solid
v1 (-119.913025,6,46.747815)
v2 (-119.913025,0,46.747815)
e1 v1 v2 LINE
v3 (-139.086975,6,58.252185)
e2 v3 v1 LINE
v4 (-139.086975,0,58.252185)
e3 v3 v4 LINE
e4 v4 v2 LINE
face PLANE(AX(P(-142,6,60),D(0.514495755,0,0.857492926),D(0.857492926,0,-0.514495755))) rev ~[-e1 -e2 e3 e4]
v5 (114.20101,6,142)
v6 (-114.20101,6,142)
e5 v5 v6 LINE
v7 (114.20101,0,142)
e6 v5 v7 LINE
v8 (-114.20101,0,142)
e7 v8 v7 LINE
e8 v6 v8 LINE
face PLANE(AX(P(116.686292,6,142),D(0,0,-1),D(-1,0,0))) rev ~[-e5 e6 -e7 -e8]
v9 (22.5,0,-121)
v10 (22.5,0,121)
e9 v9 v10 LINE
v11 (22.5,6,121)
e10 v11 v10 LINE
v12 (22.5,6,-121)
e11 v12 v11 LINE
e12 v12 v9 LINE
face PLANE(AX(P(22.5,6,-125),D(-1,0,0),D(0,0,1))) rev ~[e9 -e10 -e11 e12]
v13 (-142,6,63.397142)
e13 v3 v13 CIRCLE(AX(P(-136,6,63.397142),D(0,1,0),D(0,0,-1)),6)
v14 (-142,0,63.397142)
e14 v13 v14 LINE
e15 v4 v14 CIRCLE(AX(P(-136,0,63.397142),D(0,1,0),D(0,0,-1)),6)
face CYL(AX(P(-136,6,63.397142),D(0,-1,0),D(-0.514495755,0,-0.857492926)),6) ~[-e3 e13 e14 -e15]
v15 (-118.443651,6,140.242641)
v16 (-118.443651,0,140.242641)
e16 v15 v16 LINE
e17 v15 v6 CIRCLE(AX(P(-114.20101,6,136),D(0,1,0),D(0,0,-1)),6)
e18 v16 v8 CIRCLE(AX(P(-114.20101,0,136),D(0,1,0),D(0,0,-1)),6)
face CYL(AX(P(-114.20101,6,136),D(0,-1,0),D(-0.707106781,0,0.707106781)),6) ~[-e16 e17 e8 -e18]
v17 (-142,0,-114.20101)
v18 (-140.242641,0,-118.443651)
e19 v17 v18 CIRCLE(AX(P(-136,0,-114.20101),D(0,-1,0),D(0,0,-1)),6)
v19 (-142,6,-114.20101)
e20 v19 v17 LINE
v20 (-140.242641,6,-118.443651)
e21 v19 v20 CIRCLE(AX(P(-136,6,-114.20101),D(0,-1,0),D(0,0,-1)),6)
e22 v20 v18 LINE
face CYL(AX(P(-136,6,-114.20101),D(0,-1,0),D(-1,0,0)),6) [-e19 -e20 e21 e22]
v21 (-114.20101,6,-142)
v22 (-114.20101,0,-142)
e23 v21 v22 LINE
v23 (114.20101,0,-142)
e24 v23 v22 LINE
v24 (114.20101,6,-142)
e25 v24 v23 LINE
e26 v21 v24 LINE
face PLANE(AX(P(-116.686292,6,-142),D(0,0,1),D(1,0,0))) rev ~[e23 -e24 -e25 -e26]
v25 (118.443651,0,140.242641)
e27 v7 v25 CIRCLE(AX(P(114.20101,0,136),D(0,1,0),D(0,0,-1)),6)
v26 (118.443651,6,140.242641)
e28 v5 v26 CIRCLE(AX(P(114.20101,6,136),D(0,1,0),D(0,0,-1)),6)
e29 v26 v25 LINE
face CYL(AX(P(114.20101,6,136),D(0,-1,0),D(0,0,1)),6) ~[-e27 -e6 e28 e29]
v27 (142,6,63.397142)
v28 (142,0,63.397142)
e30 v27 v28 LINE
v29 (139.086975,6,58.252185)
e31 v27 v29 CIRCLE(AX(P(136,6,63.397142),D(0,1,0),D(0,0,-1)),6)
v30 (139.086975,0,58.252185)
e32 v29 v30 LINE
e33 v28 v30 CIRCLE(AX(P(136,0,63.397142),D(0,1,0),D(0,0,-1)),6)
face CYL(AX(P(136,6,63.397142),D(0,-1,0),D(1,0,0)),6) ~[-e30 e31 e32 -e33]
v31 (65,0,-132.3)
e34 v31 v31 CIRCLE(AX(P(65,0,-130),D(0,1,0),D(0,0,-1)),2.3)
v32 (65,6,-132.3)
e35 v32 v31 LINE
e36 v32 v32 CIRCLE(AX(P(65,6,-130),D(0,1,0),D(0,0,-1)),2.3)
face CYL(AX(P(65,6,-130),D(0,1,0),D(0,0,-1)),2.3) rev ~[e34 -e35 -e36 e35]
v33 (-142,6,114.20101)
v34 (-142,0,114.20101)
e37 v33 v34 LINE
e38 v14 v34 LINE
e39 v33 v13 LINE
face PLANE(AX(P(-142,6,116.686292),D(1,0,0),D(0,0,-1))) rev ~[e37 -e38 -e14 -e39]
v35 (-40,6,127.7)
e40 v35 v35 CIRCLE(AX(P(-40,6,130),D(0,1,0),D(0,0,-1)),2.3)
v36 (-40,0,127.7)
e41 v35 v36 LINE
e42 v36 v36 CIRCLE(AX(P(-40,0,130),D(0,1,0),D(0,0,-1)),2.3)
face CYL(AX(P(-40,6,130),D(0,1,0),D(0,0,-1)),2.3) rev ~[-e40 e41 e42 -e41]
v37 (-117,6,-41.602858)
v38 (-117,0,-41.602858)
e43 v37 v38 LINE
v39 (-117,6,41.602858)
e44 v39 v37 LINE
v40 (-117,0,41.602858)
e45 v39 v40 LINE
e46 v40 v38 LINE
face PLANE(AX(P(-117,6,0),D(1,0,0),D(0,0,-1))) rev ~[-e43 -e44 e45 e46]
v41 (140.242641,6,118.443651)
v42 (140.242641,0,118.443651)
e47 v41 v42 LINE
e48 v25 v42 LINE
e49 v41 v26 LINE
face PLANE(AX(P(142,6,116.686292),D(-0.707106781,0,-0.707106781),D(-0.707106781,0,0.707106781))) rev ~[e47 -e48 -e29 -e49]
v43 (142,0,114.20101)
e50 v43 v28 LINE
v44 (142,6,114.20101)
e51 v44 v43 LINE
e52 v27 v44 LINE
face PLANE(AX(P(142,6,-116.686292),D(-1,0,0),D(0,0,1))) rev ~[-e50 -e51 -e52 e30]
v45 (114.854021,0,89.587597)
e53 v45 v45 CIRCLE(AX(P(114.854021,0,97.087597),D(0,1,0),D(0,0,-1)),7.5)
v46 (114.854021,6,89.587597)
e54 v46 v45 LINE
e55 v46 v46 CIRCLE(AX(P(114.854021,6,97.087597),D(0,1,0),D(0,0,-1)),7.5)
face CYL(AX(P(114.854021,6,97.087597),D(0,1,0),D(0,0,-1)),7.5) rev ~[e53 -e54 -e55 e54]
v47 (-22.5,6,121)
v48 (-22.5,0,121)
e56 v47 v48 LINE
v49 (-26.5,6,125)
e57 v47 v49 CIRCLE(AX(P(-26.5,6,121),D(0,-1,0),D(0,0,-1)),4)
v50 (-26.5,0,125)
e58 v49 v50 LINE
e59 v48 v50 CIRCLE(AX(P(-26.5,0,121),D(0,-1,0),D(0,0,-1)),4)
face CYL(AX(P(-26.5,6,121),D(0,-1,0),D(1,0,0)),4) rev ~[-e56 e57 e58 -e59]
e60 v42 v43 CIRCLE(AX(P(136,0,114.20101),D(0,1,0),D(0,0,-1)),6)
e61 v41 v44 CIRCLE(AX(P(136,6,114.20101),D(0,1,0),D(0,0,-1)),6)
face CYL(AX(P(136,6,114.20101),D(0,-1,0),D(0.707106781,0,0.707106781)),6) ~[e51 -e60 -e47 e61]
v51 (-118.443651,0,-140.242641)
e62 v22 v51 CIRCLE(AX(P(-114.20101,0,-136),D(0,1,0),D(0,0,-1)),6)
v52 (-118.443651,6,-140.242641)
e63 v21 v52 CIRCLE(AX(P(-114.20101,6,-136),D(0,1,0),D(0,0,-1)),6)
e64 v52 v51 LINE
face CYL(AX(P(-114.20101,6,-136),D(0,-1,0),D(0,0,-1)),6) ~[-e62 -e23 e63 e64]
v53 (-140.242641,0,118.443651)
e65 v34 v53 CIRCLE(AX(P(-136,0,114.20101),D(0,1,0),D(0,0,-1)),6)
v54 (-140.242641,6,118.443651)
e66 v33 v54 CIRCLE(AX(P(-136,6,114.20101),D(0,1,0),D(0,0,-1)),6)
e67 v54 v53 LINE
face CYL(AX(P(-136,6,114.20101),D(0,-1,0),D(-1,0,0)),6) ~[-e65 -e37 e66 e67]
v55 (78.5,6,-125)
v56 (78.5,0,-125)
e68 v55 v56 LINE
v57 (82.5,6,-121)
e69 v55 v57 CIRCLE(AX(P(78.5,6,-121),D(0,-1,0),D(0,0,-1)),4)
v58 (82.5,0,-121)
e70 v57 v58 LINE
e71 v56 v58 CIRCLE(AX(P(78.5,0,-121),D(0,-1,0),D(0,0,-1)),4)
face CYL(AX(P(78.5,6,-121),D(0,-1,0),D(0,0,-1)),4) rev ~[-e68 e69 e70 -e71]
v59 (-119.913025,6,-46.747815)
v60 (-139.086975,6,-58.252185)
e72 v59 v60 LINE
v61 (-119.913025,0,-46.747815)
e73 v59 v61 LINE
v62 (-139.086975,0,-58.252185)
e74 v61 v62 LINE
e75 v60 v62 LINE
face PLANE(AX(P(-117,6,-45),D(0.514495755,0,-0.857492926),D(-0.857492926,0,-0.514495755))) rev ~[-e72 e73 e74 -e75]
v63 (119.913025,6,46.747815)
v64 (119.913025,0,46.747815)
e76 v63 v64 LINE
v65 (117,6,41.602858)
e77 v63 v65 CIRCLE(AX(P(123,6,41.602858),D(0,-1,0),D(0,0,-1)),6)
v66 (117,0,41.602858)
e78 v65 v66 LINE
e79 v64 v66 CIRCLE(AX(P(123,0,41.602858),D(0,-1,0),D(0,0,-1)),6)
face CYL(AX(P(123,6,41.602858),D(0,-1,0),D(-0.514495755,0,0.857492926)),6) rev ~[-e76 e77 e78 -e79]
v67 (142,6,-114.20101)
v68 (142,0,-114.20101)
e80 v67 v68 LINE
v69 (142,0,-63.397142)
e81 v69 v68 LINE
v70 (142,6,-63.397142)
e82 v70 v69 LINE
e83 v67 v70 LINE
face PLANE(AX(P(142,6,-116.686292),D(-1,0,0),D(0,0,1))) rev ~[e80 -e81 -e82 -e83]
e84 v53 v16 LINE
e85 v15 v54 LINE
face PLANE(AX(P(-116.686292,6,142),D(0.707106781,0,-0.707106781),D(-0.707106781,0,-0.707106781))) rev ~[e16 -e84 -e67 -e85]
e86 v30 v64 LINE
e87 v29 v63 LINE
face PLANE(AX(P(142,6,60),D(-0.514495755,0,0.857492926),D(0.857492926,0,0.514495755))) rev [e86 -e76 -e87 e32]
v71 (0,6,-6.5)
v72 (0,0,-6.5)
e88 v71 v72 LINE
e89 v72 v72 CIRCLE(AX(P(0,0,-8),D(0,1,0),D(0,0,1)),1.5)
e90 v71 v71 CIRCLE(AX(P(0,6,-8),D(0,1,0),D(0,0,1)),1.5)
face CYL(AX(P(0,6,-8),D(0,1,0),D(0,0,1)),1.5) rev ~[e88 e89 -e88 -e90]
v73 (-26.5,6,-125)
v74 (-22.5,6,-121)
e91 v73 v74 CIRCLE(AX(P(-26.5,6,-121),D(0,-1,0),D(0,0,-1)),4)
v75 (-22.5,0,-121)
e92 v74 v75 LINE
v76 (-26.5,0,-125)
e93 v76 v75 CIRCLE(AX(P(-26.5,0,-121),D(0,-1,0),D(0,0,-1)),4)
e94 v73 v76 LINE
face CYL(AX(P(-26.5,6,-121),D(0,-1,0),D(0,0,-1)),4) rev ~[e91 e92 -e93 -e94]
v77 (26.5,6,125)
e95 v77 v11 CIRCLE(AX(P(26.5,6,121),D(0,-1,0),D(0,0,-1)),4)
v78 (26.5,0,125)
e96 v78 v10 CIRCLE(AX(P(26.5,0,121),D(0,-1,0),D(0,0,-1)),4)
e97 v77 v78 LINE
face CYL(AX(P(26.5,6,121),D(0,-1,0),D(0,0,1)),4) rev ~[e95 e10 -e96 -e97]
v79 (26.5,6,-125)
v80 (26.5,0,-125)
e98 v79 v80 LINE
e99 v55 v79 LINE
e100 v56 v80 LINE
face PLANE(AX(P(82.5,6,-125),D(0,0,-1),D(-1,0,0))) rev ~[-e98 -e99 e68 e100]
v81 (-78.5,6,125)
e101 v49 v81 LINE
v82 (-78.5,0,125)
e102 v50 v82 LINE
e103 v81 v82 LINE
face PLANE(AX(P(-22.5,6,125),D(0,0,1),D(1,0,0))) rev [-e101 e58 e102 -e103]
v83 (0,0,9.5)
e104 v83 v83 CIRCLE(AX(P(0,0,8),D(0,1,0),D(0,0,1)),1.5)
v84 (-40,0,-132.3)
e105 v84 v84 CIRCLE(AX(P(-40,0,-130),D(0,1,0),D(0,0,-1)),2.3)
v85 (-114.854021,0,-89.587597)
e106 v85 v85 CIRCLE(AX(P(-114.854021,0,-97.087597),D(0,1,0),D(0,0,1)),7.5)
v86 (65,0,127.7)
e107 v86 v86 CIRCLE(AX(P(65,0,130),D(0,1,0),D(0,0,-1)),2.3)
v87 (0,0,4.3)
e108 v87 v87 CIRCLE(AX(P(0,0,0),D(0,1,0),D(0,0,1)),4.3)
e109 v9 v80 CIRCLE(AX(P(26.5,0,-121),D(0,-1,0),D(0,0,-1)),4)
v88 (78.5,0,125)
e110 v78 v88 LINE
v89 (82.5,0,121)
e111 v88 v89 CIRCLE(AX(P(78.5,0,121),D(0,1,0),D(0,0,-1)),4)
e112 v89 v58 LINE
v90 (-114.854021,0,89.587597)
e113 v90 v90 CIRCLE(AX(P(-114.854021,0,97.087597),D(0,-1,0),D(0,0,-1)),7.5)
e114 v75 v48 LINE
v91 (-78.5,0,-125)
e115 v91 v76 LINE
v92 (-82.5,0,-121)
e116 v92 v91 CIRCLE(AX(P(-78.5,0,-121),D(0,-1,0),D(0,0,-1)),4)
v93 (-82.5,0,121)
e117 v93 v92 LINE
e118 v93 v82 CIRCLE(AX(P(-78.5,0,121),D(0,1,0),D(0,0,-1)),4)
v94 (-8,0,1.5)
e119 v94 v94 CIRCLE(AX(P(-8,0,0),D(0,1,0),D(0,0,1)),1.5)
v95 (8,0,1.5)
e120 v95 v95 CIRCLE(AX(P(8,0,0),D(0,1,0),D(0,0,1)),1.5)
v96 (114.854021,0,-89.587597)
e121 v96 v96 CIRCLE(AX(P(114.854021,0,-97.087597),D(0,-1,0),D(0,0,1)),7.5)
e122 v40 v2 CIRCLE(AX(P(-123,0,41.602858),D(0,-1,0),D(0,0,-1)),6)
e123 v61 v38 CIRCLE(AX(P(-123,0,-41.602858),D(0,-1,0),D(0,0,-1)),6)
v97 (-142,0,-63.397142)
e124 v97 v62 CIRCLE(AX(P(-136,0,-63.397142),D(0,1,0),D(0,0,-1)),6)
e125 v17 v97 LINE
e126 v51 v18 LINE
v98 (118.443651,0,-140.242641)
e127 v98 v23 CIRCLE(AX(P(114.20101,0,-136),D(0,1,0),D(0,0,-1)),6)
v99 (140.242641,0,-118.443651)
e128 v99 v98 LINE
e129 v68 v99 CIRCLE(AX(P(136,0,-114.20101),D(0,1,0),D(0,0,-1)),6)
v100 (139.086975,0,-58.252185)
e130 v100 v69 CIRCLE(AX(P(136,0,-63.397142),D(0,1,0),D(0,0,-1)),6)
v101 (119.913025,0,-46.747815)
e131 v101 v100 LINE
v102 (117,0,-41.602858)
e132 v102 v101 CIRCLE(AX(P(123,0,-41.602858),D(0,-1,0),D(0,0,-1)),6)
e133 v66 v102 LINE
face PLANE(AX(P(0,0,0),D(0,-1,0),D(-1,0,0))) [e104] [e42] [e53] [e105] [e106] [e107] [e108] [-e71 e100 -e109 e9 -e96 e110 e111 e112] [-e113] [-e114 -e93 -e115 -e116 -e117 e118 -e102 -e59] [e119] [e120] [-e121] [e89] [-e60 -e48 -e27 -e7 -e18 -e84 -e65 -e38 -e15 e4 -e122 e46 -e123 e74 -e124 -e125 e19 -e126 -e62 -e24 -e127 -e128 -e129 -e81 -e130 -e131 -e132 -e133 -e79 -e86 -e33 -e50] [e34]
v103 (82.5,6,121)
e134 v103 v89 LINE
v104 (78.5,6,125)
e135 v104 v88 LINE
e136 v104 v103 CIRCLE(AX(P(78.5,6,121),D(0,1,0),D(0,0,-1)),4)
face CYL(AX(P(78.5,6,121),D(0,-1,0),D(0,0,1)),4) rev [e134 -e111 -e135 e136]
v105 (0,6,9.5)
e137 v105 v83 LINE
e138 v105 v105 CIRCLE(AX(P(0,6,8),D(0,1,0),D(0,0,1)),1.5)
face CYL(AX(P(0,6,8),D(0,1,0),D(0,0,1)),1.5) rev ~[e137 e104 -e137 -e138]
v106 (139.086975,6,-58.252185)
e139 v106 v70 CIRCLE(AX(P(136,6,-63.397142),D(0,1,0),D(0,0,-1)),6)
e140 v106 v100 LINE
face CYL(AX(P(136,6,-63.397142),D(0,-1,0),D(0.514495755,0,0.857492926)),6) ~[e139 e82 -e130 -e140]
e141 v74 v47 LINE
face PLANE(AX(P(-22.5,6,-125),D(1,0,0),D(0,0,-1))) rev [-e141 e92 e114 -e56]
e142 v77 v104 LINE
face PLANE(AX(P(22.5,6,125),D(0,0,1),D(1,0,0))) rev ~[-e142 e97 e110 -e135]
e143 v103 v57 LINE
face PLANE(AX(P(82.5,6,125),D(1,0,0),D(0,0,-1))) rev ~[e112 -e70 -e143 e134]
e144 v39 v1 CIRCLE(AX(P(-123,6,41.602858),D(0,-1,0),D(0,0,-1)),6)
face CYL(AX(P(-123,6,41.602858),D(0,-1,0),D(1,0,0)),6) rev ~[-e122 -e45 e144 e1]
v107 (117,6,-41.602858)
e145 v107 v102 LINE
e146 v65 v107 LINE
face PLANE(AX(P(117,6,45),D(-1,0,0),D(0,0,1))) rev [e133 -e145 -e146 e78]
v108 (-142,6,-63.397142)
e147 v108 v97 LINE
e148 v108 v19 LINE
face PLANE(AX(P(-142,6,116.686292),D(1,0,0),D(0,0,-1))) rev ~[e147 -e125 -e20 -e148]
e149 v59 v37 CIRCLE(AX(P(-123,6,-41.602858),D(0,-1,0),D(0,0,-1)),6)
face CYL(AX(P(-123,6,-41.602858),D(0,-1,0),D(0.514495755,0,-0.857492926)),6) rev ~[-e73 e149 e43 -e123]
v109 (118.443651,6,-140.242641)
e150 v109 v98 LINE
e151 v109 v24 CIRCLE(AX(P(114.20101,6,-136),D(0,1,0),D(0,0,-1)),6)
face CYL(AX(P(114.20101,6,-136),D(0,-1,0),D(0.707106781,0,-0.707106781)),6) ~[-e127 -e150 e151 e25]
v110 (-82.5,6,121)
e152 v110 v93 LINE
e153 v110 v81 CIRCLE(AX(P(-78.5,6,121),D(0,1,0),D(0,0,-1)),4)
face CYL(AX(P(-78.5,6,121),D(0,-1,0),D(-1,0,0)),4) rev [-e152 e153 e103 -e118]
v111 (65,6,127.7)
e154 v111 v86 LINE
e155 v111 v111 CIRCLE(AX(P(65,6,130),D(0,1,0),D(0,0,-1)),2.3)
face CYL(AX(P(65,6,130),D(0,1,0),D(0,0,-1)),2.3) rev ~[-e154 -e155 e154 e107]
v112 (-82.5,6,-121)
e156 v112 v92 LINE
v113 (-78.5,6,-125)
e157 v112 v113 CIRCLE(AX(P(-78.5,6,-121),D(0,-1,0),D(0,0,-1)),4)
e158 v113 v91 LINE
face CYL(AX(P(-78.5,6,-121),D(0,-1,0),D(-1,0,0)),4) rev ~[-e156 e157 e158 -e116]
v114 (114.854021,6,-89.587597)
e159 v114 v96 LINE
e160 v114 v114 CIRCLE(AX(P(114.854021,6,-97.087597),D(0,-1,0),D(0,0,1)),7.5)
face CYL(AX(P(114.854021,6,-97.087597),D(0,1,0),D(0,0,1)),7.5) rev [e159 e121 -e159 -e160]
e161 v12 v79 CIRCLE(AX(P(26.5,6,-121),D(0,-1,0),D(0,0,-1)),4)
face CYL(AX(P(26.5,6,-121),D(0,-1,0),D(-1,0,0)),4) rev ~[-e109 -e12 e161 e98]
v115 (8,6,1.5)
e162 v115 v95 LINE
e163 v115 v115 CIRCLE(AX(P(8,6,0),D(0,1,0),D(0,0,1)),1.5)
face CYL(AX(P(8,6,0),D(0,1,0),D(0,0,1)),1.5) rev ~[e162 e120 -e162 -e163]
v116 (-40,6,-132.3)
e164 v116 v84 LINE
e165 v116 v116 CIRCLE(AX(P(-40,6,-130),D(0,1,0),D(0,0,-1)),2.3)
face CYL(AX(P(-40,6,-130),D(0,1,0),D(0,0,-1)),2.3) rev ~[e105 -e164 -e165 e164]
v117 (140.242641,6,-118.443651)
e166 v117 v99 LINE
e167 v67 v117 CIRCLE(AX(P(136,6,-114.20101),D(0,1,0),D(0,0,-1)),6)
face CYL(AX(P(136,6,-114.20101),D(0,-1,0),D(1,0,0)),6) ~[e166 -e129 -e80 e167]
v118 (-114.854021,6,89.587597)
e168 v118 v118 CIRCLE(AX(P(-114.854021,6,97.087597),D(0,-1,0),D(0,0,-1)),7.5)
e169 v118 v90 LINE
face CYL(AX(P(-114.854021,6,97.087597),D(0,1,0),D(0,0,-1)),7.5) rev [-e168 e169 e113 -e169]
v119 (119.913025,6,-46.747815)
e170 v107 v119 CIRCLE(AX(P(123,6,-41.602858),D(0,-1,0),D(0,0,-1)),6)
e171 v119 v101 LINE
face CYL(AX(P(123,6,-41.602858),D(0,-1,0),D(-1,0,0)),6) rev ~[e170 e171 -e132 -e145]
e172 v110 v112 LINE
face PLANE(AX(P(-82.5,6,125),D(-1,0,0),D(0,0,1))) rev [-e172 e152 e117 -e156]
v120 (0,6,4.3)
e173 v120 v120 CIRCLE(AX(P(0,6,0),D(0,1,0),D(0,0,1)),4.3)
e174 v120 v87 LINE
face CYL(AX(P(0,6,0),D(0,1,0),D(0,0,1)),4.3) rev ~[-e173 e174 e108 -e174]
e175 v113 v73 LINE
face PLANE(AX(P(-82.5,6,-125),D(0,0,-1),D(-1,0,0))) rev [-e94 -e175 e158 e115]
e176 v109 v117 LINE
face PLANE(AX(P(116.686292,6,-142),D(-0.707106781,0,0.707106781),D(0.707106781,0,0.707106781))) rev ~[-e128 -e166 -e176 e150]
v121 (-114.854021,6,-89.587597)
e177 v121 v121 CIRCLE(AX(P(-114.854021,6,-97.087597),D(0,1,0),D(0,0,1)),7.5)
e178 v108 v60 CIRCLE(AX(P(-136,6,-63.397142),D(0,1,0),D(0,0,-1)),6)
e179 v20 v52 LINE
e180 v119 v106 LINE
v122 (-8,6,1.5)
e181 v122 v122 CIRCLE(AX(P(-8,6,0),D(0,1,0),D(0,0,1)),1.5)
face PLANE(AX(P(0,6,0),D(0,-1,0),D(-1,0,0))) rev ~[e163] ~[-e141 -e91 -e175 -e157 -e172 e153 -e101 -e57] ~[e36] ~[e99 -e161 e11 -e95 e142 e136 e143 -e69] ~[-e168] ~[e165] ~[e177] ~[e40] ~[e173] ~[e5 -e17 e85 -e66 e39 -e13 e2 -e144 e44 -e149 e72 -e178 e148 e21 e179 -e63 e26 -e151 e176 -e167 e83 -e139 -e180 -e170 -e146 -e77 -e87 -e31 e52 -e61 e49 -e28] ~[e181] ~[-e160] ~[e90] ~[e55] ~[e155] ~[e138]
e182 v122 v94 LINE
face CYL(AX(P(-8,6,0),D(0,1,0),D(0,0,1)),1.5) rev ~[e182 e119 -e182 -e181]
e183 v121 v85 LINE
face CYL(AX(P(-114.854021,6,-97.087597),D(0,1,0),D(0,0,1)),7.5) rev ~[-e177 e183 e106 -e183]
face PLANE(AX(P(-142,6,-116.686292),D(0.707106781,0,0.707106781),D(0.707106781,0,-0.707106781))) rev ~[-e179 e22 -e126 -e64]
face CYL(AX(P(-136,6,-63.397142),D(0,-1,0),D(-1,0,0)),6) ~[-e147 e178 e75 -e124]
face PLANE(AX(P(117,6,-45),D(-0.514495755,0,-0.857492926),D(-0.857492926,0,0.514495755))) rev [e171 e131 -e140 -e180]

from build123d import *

# Parameters (mm, degrees)
BOSS_EXTRU_1_DEPTH                   = 6
ENL_V_MAT_EXTRU_10_REACH             = 214.217
ESQUISSE12_R                         = 7.5
SYM_TRIE10_COPY_1_REACH              = 214.217
SYM_TRIE10_COPY_1_SKETCH_R           = 7.5
ENL_V_MAT_EXTRU_11_REACH             = 214.217
ESQUISSE13_R                         = 4.3
ESQUISSE13_R_2                       = 1.5
ENL_V_MAT_EXTRU_12_REACH             = 214.217
CONG_1_R                             = 4
CONG_1_OF_SYM_TRIE11_R               = 4
ENL_V_MAT_EXTRU_13_REACH             = 214.217
ESQUISSE15_R                         = 2.3
ENL_V_MAT_EXTRU_13_DIRECTION_2_DEPTH = 213.216870206
R_P_TITION_LIN_AIRE1_COUNT           = 2
R_P_TITION_LIN_AIRE1_PITCH           = 105
ENL_V_MAT_EXTRU_14_DEPTH             = 24
ENL_V_MAT_EXTRU_15_REACH             = 202.908
ESQUISSE17_W                         = 25
ESQUISSE17_H                         = 45
CONG_2_R                             = 6


with BuildPart() as part:
    # Esquisse1 → Boss.-Extru.1 (new body)
    with BuildSketch(Plane(origin=(0, 0, 0), x_dir=(1, 0, 0), z_dir=(0, 1, 0))):
        Polygon((-150, 0), (-150, 120), (-120, 150), (0, 150), (120, 150), (150, 120), (150, 0), (150, -120), (120, -150), (0, -150), (-120, -150), (-150, -120), align=None)
    extrude(amount=BOSS_EXTRU_1_DEPTH)

    # Esquisse12 → Enlèv. mat.-Extru.10 (cut, up to next)
    with BuildSketch(Plane(origin=(0, 6, 0), x_dir=(1, 0, 0), z_dir=(0, 1, 0)), mode=Mode.PRIVATE) as enl_v_mat_extru_10_sk1:
        with Locations(Location((-114.854021031, 97.087596514, 0), (0, 0, 270))):
            Circle(ESQUISSE12_R)
    enl_v_mat_extru_10_tool1 = extrude(enl_v_mat_extru_10_sk1.sketch, amount=-ENL_V_MAT_EXTRU_10_REACH, mode=Mode.PRIVATE) & part.part
    enl_v_mat_extru_10 = enl_v_mat_extru_10_tool1.solids().sort_by_distance((-114.854021, 6, -97.087597))[0]
    add(enl_v_mat_extru_10, mode=Mode.SUBTRACT)

    # Symétrie9: Enlèv. mat.-Extru.10 across plane
    add(enl_v_mat_extru_10.mirror(Plane(origin=(0, 0, 0), x_dir=(0, 0, 1), z_dir=(1, 0, 0))), mode=Mode.SUBTRACT)

    # Symétrie10: Enlèv. mat.-Extru.10 across plane
    add(enl_v_mat_extru_10.mirror(Plane.XY), mode=Mode.SUBTRACT)

    # Symétrie10 copy 1 sketch → Symétrie10 copy 1 (cut, up to next)
    with BuildSketch(Plane(origin=(0, 6, 0), x_dir=(-1, 0, 0), z_dir=(0, 1, 0)), mode=Mode.PRIVATE) as sym_trie10_copy_1_sk1:
        with Locations(Location((-114.854021031, 97.087596514, 0), (0, 0, 270))):
            Circle(SYM_TRIE10_COPY_1_SKETCH_R)
    sym_trie10_copy_1_tool1 = extrude(sym_trie10_copy_1_sk1.sketch, amount=-SYM_TRIE10_COPY_1_REACH, mode=Mode.PRIVATE) & part.part
    add(sym_trie10_copy_1_tool1.solids().sort_by_distance((114.854021, 6, 97.087597))[0], mode=Mode.SUBTRACT)

    # Esquisse13 → Enlèv. mat.-Extru.11 (cut, up to next)
    with BuildSketch(Plane(origin=(0, 6, 0), x_dir=(1, 0, 0), z_dir=(0, 1, 0)), mode=Mode.PRIVATE) as enl_v_mat_extru_11_sk1:
        with Locations(Location((0, 0, 0), (0, 0, 270))):
            Circle(ESQUISSE13_R)
    enl_v_mat_extru_11_tool1 = extrude(enl_v_mat_extru_11_sk1.sketch, amount=-ENL_V_MAT_EXTRU_11_REACH, mode=Mode.PRIVATE) & part.part
    # Esquisse13 → Enlèv. mat.-Extru.11 (cut, up to next)
    with BuildSketch(Plane(origin=(0, 6, 0), x_dir=(1, 0, 0), z_dir=(0, 1, 0)), mode=Mode.PRIVATE) as enl_v_mat_extru_11_sk2:
        with Locations(Location((8, 0, 0), (0, 0, 270))):
            Circle(ESQUISSE13_R_2)
    enl_v_mat_extru_11_tool2 = extrude(enl_v_mat_extru_11_sk2.sketch, amount=-ENL_V_MAT_EXTRU_11_REACH, mode=Mode.PRIVATE) & part.part
    # Esquisse13 → Enlèv. mat.-Extru.11 (cut, up to next)
    with BuildSketch(Plane(origin=(0, 6, 0), x_dir=(1, 0, 0), z_dir=(0, 1, 0)), mode=Mode.PRIVATE) as enl_v_mat_extru_11_sk3:
        with Locations(Location((0, -8, 0), (0, 0, 270))):
            Circle(ESQUISSE13_R_2)
    enl_v_mat_extru_11_tool3 = extrude(enl_v_mat_extru_11_sk3.sketch, amount=-ENL_V_MAT_EXTRU_11_REACH, mode=Mode.PRIVATE) & part.part
    # Esquisse13 → Enlèv. mat.-Extru.11 (cut, up to next)
    with BuildSketch(Plane(origin=(0, 6, 0), x_dir=(1, 0, 0), z_dir=(0, 1, 0)), mode=Mode.PRIVATE) as enl_v_mat_extru_11_sk4:
        with Locations(Location((0, 8, 0), (0, 0, 270))):
            Circle(ESQUISSE13_R_2)
    enl_v_mat_extru_11_tool4 = extrude(enl_v_mat_extru_11_sk4.sketch, amount=-ENL_V_MAT_EXTRU_11_REACH, mode=Mode.PRIVATE) & part.part
    # Esquisse13 → Enlèv. mat.-Extru.11 (cut, up to next)
    with BuildSketch(Plane(origin=(0, 6, 0), x_dir=(1, 0, 0), z_dir=(0, 1, 0)), mode=Mode.PRIVATE) as enl_v_mat_extru_11_sk5:
        with Locations(Location((-8, 0, 0), (0, 0, 270))):
            Circle(ESQUISSE13_R_2)
    enl_v_mat_extru_11_tool5 = extrude(enl_v_mat_extru_11_sk5.sketch, amount=-ENL_V_MAT_EXTRU_11_REACH, mode=Mode.PRIVATE) & part.part
    add(enl_v_mat_extru_11_tool1.solids().sort_by_distance((0, 6, 0))[0], mode=Mode.SUBTRACT)
    add(enl_v_mat_extru_11_tool2.solids().sort_by_distance((8, 6, 0))[0], mode=Mode.SUBTRACT)
    add(enl_v_mat_extru_11_tool3.solids().sort_by_distance((0, 6, 8))[0], mode=Mode.SUBTRACT)
    add(enl_v_mat_extru_11_tool4.solids().sort_by_distance((0, 6, -8))[0], mode=Mode.SUBTRACT)
    add(enl_v_mat_extru_11_tool5.solids().sort_by_distance((-8, 6, 0))[0], mode=Mode.SUBTRACT)

    # Esquisse14 → Enlèv. mat.-Extru.12 (cut, up to next)
    with BuildSketch(Plane(origin=(0, 6, 0), x_dir=(1, 0, 0), z_dir=(0, 1, 0)), mode=Mode.PRIVATE) as enl_v_mat_extru_12_sk1:
        Polygon((52.5, -125), (82.5, -125), (82.5, 125), (22.5, 125), (22.5, -125), align=None)
    enl_v_mat_extru_12_tool1 = extrude(enl_v_mat_extru_12_sk1.sketch, amount=-ENL_V_MAT_EXTRU_12_REACH, mode=Mode.PRIVATE) & part.part
    enl_v_mat_extru_12 = enl_v_mat_extru_12_tool1.solids().sort_by_distance((52.5, 6, 0))[0]
    add(enl_v_mat_extru_12, mode=Mode.SUBTRACT)

    # Congé1
    cong_1_edges = [part.edges().sort_by_distance(p)[0] for p in [
        (22.5, 3, -125),
        (82.5, 3, -125),
        (82.5, 3, 125),
        (22.5, 3, 125),
    ]]
    fillet(cong_1_edges, radius=CONG_1_R)

    # Symétrie11: Enlèv. mat.-Extru.12 across plane
    add(enl_v_mat_extru_12.mirror(Plane(origin=(0, 0, 0), x_dir=(0, 0, 1), z_dir=(1, 0, 0))), mode=Mode.SUBTRACT)

    # Congé1 of Symétrie11
    cong_1_of_sym_trie11_edges = [part.edges().sort_by_distance(p)[0] for p in [
        (-22.5, 3, -125),
        (-82.5, 3, -125),
        (-82.5, 3, 125),
        (-22.5, 3, 125),
    ]]
    fillet(cong_1_of_sym_trie11_edges, radius=CONG_1_OF_SYM_TRIE11_R)

    # Esquisse15 → Enlèv. mat.-Extru.13 (cut, up to next)
    with BuildSketch(Plane(origin=(0, 6, 0), x_dir=(1, 0, 0), z_dir=(0, 1, 0)), mode=Mode.PRIVATE) as enl_v_mat_extru_13_sk1:
        with Locations(Location((-40, 130, 0), (0, 0, 90))):
            Circle(ESQUISSE15_R)
    enl_v_mat_extru_13_tool1 = extrude(enl_v_mat_extru_13_sk1.sketch, amount=-ENL_V_MAT_EXTRU_13_REACH, mode=Mode.PRIVATE) & part.part
    # Esquisse15 → Enlèv. mat.-Extru.13 (cut, up to next)
    with BuildSketch(Plane(origin=(0, 6, 0), x_dir=(1, 0, 0), z_dir=(0, 1, 0)), mode=Mode.PRIVATE) as enl_v_mat_extru_13_sk2:
        with Locations(Location((-40, -130, 0), (0, 0, 90))):
            Circle(ESQUISSE15_R)
    enl_v_mat_extru_13_tool2 = extrude(enl_v_mat_extru_13_sk2.sketch, amount=-ENL_V_MAT_EXTRU_13_REACH, mode=Mode.PRIVATE) & part.part
    enl_v_mat_extru_13_1 = enl_v_mat_extru_13_tool1.solids().sort_by_distance((-40, 6, -130))[0]
    add(enl_v_mat_extru_13_1, mode=Mode.SUBTRACT)
    enl_v_mat_extru_13_2 = enl_v_mat_extru_13_tool2.solids().sort_by_distance((-40, 6, 130))[0]
    add(enl_v_mat_extru_13_2, mode=Mode.SUBTRACT)
    enl_v_mat_extru_13 = enl_v_mat_extru_13_1 + enl_v_mat_extru_13_2  # Enlèv. mat.-Extru.13 as one shape, for the pattern or mirror that repeats it

    # Esquisse15 → Enlèv. mat.-Extru.13 direction 2 (cut)
    with BuildSketch(Plane(origin=(0, 6, 0), x_dir=(1, 0, 0), z_dir=(0, 1, 0))):
        with Locations(Location((-40, 130, 0), (0, 0, 90))):
            Circle(ESQUISSE15_R)
        with Locations(Location((-40, -130, 0), (0, 0, 90))):
            Circle(ESQUISSE15_R)
    enl_v_mat_extru_13_direction_2 = extrude(amount=ENL_V_MAT_EXTRU_13_DIRECTION_2_DEPTH, mode=Mode.SUBTRACT)

    # Répétition linéaire1: Enlèv. mat.-Extru.13, Enlèv. mat.-Extru.13 direction 2 ×2
    with Locations(*[(i * R_P_TITION_LIN_AIRE1_PITCH, 0, 0) for i in range(1, R_P_TITION_LIN_AIRE1_COUNT)]):
        add(enl_v_mat_extru_13, mode=Mode.SUBTRACT)
        add(enl_v_mat_extru_13_direction_2, mode=Mode.SUBTRACT)

    # Esquisse16 → Enlèv. mat.-Extru.14 (cut)
    with BuildSketch(Plane(origin=(0, 6, 0), x_dir=(1, 0, 0), z_dir=(0, 1, 0))):
        Polygon((150, 120), (120, 150), (-120, 150), (-150, 120), (-150, -120), (-120, -150), (120, -150), (150, -120), align=None)
        Polygon((-142, 116.686291501), (-116.686291501, 142), (116.686291501, 142), (142, 116.686291501), (142, -116.686291501), (116.686291501, -142), (-116.686291501, -142), (-142, -116.686291501), align=None, mode=Mode.SUBTRACT)
    extrude(amount=-ENL_V_MAT_EXTRU_14_DEPTH, mode=Mode.SUBTRACT)

    # Esquisse17 → Enlèv. mat.-Extru.15 (cut, up to next)
    with BuildSketch(Plane(origin=(0, 6, 0), x_dir=(1, 0, 0), z_dir=(0, 1, 0)), mode=Mode.PRIVATE) as enl_v_mat_extru_15_sk1:
        Polygon((-117, -45), (-142, -45), (-142, -60), align=None)
    enl_v_mat_extru_15_tool1 = extrude(enl_v_mat_extru_15_sk1.sketch, amount=-ENL_V_MAT_EXTRU_15_REACH, mode=Mode.PRIVATE) & part.part
    # Esquisse17 → Enlèv. mat.-Extru.15 (cut, up to next)
    with BuildSketch(Plane(origin=(0, 6, 0), x_dir=(1, 0, 0), z_dir=(0, 1, 0)), mode=Mode.PRIVATE) as enl_v_mat_extru_15_sk2:
        with Locations((-129.5, -22.5)):
            Rectangle(ESQUISSE17_W, ESQUISSE17_H)
    enl_v_mat_extru_15_tool2 = extrude(enl_v_mat_extru_15_sk2.sketch, amount=-ENL_V_MAT_EXTRU_15_REACH, mode=Mode.PRIVATE) & part.part
    # Esquisse17 → Enlèv. mat.-Extru.15 (cut, up to next)
    with BuildSketch(Plane(origin=(0, 6, 0), x_dir=(1, 0, 0), z_dir=(0, 1, 0)), mode=Mode.PRIVATE) as enl_v_mat_extru_15_sk3:
        with Locations((-129.5, 22.5)):
            Rectangle(ESQUISSE17_W, ESQUISSE17_H)
    enl_v_mat_extru_15_tool3 = extrude(enl_v_mat_extru_15_sk3.sketch, amount=-ENL_V_MAT_EXTRU_15_REACH, mode=Mode.PRIVATE) & part.part
    # Esquisse17 → Enlèv. mat.-Extru.15 (cut, up to next)
    with BuildSketch(Plane(origin=(0, 6, 0), x_dir=(1, 0, 0), z_dir=(0, 1, 0)), mode=Mode.PRIVATE) as enl_v_mat_extru_15_sk4:
        Polygon((-142, 60), (-142, 45), (-117, 45), align=None)
    enl_v_mat_extru_15_tool4 = extrude(enl_v_mat_extru_15_sk4.sketch, amount=-ENL_V_MAT_EXTRU_15_REACH, mode=Mode.PRIVATE) & part.part
    enl_v_mat_extru_15_1 = enl_v_mat_extru_15_tool1.solids().sort_by_distance((-133.666667, 6, 50))[0]
    add(enl_v_mat_extru_15_1, mode=Mode.SUBTRACT)
    enl_v_mat_extru_15_2 = enl_v_mat_extru_15_tool2.solids().sort_by_distance((-129.5, 6, 22.5))[0]
    add(enl_v_mat_extru_15_2, mode=Mode.SUBTRACT)
    enl_v_mat_extru_15_3 = enl_v_mat_extru_15_tool3.solids().sort_by_distance((-129.5, 6, -22.5))[0]
    add(enl_v_mat_extru_15_3, mode=Mode.SUBTRACT)
    enl_v_mat_extru_15_4 = enl_v_mat_extru_15_tool4.solids().sort_by_distance((-133.666667, 6, -50))[0]
    add(enl_v_mat_extru_15_4, mode=Mode.SUBTRACT)
    enl_v_mat_extru_15 = enl_v_mat_extru_15_1 + enl_v_mat_extru_15_2 + enl_v_mat_extru_15_3 + enl_v_mat_extru_15_4  # Enlèv. mat.-Extru.15 as one shape, for the pattern or mirror that repeats it

    # Symétrie12: Enlèv. mat.-Extru.15 across plane
    add(enl_v_mat_extru_15.mirror(Plane(origin=(0, 0, 0), x_dir=(0, 0, 1), z_dir=(1, 0, 0))), mode=Mode.SUBTRACT)

    # Congé2
    cong_2_edges = [part.edges().sort_by_distance(p)[0] for p in [
        (116.686291501, 3, -142),
        (-116.686291501, 3, -142),
        (-142, 3, -116.686291501),
        (-142, 3, 116.686291501),
        (-116.686291501, 3, 142),
        (116.686291501, 3, 142),
        (142, 3, 116.686291501),
        (142, 3, -116.686291501),
        (-117, 3, 45),
        (-142, 3, 60),
        (-142, 3, -60),
        (-117, 3, -45),
        (142, 3, 60),
        (117, 3, 45),
        (117, 3, -45),
        (142, 3, -60),
    ]]
    fillet(cong_2_edges, radius=CONG_2_R)


solid = part.part
